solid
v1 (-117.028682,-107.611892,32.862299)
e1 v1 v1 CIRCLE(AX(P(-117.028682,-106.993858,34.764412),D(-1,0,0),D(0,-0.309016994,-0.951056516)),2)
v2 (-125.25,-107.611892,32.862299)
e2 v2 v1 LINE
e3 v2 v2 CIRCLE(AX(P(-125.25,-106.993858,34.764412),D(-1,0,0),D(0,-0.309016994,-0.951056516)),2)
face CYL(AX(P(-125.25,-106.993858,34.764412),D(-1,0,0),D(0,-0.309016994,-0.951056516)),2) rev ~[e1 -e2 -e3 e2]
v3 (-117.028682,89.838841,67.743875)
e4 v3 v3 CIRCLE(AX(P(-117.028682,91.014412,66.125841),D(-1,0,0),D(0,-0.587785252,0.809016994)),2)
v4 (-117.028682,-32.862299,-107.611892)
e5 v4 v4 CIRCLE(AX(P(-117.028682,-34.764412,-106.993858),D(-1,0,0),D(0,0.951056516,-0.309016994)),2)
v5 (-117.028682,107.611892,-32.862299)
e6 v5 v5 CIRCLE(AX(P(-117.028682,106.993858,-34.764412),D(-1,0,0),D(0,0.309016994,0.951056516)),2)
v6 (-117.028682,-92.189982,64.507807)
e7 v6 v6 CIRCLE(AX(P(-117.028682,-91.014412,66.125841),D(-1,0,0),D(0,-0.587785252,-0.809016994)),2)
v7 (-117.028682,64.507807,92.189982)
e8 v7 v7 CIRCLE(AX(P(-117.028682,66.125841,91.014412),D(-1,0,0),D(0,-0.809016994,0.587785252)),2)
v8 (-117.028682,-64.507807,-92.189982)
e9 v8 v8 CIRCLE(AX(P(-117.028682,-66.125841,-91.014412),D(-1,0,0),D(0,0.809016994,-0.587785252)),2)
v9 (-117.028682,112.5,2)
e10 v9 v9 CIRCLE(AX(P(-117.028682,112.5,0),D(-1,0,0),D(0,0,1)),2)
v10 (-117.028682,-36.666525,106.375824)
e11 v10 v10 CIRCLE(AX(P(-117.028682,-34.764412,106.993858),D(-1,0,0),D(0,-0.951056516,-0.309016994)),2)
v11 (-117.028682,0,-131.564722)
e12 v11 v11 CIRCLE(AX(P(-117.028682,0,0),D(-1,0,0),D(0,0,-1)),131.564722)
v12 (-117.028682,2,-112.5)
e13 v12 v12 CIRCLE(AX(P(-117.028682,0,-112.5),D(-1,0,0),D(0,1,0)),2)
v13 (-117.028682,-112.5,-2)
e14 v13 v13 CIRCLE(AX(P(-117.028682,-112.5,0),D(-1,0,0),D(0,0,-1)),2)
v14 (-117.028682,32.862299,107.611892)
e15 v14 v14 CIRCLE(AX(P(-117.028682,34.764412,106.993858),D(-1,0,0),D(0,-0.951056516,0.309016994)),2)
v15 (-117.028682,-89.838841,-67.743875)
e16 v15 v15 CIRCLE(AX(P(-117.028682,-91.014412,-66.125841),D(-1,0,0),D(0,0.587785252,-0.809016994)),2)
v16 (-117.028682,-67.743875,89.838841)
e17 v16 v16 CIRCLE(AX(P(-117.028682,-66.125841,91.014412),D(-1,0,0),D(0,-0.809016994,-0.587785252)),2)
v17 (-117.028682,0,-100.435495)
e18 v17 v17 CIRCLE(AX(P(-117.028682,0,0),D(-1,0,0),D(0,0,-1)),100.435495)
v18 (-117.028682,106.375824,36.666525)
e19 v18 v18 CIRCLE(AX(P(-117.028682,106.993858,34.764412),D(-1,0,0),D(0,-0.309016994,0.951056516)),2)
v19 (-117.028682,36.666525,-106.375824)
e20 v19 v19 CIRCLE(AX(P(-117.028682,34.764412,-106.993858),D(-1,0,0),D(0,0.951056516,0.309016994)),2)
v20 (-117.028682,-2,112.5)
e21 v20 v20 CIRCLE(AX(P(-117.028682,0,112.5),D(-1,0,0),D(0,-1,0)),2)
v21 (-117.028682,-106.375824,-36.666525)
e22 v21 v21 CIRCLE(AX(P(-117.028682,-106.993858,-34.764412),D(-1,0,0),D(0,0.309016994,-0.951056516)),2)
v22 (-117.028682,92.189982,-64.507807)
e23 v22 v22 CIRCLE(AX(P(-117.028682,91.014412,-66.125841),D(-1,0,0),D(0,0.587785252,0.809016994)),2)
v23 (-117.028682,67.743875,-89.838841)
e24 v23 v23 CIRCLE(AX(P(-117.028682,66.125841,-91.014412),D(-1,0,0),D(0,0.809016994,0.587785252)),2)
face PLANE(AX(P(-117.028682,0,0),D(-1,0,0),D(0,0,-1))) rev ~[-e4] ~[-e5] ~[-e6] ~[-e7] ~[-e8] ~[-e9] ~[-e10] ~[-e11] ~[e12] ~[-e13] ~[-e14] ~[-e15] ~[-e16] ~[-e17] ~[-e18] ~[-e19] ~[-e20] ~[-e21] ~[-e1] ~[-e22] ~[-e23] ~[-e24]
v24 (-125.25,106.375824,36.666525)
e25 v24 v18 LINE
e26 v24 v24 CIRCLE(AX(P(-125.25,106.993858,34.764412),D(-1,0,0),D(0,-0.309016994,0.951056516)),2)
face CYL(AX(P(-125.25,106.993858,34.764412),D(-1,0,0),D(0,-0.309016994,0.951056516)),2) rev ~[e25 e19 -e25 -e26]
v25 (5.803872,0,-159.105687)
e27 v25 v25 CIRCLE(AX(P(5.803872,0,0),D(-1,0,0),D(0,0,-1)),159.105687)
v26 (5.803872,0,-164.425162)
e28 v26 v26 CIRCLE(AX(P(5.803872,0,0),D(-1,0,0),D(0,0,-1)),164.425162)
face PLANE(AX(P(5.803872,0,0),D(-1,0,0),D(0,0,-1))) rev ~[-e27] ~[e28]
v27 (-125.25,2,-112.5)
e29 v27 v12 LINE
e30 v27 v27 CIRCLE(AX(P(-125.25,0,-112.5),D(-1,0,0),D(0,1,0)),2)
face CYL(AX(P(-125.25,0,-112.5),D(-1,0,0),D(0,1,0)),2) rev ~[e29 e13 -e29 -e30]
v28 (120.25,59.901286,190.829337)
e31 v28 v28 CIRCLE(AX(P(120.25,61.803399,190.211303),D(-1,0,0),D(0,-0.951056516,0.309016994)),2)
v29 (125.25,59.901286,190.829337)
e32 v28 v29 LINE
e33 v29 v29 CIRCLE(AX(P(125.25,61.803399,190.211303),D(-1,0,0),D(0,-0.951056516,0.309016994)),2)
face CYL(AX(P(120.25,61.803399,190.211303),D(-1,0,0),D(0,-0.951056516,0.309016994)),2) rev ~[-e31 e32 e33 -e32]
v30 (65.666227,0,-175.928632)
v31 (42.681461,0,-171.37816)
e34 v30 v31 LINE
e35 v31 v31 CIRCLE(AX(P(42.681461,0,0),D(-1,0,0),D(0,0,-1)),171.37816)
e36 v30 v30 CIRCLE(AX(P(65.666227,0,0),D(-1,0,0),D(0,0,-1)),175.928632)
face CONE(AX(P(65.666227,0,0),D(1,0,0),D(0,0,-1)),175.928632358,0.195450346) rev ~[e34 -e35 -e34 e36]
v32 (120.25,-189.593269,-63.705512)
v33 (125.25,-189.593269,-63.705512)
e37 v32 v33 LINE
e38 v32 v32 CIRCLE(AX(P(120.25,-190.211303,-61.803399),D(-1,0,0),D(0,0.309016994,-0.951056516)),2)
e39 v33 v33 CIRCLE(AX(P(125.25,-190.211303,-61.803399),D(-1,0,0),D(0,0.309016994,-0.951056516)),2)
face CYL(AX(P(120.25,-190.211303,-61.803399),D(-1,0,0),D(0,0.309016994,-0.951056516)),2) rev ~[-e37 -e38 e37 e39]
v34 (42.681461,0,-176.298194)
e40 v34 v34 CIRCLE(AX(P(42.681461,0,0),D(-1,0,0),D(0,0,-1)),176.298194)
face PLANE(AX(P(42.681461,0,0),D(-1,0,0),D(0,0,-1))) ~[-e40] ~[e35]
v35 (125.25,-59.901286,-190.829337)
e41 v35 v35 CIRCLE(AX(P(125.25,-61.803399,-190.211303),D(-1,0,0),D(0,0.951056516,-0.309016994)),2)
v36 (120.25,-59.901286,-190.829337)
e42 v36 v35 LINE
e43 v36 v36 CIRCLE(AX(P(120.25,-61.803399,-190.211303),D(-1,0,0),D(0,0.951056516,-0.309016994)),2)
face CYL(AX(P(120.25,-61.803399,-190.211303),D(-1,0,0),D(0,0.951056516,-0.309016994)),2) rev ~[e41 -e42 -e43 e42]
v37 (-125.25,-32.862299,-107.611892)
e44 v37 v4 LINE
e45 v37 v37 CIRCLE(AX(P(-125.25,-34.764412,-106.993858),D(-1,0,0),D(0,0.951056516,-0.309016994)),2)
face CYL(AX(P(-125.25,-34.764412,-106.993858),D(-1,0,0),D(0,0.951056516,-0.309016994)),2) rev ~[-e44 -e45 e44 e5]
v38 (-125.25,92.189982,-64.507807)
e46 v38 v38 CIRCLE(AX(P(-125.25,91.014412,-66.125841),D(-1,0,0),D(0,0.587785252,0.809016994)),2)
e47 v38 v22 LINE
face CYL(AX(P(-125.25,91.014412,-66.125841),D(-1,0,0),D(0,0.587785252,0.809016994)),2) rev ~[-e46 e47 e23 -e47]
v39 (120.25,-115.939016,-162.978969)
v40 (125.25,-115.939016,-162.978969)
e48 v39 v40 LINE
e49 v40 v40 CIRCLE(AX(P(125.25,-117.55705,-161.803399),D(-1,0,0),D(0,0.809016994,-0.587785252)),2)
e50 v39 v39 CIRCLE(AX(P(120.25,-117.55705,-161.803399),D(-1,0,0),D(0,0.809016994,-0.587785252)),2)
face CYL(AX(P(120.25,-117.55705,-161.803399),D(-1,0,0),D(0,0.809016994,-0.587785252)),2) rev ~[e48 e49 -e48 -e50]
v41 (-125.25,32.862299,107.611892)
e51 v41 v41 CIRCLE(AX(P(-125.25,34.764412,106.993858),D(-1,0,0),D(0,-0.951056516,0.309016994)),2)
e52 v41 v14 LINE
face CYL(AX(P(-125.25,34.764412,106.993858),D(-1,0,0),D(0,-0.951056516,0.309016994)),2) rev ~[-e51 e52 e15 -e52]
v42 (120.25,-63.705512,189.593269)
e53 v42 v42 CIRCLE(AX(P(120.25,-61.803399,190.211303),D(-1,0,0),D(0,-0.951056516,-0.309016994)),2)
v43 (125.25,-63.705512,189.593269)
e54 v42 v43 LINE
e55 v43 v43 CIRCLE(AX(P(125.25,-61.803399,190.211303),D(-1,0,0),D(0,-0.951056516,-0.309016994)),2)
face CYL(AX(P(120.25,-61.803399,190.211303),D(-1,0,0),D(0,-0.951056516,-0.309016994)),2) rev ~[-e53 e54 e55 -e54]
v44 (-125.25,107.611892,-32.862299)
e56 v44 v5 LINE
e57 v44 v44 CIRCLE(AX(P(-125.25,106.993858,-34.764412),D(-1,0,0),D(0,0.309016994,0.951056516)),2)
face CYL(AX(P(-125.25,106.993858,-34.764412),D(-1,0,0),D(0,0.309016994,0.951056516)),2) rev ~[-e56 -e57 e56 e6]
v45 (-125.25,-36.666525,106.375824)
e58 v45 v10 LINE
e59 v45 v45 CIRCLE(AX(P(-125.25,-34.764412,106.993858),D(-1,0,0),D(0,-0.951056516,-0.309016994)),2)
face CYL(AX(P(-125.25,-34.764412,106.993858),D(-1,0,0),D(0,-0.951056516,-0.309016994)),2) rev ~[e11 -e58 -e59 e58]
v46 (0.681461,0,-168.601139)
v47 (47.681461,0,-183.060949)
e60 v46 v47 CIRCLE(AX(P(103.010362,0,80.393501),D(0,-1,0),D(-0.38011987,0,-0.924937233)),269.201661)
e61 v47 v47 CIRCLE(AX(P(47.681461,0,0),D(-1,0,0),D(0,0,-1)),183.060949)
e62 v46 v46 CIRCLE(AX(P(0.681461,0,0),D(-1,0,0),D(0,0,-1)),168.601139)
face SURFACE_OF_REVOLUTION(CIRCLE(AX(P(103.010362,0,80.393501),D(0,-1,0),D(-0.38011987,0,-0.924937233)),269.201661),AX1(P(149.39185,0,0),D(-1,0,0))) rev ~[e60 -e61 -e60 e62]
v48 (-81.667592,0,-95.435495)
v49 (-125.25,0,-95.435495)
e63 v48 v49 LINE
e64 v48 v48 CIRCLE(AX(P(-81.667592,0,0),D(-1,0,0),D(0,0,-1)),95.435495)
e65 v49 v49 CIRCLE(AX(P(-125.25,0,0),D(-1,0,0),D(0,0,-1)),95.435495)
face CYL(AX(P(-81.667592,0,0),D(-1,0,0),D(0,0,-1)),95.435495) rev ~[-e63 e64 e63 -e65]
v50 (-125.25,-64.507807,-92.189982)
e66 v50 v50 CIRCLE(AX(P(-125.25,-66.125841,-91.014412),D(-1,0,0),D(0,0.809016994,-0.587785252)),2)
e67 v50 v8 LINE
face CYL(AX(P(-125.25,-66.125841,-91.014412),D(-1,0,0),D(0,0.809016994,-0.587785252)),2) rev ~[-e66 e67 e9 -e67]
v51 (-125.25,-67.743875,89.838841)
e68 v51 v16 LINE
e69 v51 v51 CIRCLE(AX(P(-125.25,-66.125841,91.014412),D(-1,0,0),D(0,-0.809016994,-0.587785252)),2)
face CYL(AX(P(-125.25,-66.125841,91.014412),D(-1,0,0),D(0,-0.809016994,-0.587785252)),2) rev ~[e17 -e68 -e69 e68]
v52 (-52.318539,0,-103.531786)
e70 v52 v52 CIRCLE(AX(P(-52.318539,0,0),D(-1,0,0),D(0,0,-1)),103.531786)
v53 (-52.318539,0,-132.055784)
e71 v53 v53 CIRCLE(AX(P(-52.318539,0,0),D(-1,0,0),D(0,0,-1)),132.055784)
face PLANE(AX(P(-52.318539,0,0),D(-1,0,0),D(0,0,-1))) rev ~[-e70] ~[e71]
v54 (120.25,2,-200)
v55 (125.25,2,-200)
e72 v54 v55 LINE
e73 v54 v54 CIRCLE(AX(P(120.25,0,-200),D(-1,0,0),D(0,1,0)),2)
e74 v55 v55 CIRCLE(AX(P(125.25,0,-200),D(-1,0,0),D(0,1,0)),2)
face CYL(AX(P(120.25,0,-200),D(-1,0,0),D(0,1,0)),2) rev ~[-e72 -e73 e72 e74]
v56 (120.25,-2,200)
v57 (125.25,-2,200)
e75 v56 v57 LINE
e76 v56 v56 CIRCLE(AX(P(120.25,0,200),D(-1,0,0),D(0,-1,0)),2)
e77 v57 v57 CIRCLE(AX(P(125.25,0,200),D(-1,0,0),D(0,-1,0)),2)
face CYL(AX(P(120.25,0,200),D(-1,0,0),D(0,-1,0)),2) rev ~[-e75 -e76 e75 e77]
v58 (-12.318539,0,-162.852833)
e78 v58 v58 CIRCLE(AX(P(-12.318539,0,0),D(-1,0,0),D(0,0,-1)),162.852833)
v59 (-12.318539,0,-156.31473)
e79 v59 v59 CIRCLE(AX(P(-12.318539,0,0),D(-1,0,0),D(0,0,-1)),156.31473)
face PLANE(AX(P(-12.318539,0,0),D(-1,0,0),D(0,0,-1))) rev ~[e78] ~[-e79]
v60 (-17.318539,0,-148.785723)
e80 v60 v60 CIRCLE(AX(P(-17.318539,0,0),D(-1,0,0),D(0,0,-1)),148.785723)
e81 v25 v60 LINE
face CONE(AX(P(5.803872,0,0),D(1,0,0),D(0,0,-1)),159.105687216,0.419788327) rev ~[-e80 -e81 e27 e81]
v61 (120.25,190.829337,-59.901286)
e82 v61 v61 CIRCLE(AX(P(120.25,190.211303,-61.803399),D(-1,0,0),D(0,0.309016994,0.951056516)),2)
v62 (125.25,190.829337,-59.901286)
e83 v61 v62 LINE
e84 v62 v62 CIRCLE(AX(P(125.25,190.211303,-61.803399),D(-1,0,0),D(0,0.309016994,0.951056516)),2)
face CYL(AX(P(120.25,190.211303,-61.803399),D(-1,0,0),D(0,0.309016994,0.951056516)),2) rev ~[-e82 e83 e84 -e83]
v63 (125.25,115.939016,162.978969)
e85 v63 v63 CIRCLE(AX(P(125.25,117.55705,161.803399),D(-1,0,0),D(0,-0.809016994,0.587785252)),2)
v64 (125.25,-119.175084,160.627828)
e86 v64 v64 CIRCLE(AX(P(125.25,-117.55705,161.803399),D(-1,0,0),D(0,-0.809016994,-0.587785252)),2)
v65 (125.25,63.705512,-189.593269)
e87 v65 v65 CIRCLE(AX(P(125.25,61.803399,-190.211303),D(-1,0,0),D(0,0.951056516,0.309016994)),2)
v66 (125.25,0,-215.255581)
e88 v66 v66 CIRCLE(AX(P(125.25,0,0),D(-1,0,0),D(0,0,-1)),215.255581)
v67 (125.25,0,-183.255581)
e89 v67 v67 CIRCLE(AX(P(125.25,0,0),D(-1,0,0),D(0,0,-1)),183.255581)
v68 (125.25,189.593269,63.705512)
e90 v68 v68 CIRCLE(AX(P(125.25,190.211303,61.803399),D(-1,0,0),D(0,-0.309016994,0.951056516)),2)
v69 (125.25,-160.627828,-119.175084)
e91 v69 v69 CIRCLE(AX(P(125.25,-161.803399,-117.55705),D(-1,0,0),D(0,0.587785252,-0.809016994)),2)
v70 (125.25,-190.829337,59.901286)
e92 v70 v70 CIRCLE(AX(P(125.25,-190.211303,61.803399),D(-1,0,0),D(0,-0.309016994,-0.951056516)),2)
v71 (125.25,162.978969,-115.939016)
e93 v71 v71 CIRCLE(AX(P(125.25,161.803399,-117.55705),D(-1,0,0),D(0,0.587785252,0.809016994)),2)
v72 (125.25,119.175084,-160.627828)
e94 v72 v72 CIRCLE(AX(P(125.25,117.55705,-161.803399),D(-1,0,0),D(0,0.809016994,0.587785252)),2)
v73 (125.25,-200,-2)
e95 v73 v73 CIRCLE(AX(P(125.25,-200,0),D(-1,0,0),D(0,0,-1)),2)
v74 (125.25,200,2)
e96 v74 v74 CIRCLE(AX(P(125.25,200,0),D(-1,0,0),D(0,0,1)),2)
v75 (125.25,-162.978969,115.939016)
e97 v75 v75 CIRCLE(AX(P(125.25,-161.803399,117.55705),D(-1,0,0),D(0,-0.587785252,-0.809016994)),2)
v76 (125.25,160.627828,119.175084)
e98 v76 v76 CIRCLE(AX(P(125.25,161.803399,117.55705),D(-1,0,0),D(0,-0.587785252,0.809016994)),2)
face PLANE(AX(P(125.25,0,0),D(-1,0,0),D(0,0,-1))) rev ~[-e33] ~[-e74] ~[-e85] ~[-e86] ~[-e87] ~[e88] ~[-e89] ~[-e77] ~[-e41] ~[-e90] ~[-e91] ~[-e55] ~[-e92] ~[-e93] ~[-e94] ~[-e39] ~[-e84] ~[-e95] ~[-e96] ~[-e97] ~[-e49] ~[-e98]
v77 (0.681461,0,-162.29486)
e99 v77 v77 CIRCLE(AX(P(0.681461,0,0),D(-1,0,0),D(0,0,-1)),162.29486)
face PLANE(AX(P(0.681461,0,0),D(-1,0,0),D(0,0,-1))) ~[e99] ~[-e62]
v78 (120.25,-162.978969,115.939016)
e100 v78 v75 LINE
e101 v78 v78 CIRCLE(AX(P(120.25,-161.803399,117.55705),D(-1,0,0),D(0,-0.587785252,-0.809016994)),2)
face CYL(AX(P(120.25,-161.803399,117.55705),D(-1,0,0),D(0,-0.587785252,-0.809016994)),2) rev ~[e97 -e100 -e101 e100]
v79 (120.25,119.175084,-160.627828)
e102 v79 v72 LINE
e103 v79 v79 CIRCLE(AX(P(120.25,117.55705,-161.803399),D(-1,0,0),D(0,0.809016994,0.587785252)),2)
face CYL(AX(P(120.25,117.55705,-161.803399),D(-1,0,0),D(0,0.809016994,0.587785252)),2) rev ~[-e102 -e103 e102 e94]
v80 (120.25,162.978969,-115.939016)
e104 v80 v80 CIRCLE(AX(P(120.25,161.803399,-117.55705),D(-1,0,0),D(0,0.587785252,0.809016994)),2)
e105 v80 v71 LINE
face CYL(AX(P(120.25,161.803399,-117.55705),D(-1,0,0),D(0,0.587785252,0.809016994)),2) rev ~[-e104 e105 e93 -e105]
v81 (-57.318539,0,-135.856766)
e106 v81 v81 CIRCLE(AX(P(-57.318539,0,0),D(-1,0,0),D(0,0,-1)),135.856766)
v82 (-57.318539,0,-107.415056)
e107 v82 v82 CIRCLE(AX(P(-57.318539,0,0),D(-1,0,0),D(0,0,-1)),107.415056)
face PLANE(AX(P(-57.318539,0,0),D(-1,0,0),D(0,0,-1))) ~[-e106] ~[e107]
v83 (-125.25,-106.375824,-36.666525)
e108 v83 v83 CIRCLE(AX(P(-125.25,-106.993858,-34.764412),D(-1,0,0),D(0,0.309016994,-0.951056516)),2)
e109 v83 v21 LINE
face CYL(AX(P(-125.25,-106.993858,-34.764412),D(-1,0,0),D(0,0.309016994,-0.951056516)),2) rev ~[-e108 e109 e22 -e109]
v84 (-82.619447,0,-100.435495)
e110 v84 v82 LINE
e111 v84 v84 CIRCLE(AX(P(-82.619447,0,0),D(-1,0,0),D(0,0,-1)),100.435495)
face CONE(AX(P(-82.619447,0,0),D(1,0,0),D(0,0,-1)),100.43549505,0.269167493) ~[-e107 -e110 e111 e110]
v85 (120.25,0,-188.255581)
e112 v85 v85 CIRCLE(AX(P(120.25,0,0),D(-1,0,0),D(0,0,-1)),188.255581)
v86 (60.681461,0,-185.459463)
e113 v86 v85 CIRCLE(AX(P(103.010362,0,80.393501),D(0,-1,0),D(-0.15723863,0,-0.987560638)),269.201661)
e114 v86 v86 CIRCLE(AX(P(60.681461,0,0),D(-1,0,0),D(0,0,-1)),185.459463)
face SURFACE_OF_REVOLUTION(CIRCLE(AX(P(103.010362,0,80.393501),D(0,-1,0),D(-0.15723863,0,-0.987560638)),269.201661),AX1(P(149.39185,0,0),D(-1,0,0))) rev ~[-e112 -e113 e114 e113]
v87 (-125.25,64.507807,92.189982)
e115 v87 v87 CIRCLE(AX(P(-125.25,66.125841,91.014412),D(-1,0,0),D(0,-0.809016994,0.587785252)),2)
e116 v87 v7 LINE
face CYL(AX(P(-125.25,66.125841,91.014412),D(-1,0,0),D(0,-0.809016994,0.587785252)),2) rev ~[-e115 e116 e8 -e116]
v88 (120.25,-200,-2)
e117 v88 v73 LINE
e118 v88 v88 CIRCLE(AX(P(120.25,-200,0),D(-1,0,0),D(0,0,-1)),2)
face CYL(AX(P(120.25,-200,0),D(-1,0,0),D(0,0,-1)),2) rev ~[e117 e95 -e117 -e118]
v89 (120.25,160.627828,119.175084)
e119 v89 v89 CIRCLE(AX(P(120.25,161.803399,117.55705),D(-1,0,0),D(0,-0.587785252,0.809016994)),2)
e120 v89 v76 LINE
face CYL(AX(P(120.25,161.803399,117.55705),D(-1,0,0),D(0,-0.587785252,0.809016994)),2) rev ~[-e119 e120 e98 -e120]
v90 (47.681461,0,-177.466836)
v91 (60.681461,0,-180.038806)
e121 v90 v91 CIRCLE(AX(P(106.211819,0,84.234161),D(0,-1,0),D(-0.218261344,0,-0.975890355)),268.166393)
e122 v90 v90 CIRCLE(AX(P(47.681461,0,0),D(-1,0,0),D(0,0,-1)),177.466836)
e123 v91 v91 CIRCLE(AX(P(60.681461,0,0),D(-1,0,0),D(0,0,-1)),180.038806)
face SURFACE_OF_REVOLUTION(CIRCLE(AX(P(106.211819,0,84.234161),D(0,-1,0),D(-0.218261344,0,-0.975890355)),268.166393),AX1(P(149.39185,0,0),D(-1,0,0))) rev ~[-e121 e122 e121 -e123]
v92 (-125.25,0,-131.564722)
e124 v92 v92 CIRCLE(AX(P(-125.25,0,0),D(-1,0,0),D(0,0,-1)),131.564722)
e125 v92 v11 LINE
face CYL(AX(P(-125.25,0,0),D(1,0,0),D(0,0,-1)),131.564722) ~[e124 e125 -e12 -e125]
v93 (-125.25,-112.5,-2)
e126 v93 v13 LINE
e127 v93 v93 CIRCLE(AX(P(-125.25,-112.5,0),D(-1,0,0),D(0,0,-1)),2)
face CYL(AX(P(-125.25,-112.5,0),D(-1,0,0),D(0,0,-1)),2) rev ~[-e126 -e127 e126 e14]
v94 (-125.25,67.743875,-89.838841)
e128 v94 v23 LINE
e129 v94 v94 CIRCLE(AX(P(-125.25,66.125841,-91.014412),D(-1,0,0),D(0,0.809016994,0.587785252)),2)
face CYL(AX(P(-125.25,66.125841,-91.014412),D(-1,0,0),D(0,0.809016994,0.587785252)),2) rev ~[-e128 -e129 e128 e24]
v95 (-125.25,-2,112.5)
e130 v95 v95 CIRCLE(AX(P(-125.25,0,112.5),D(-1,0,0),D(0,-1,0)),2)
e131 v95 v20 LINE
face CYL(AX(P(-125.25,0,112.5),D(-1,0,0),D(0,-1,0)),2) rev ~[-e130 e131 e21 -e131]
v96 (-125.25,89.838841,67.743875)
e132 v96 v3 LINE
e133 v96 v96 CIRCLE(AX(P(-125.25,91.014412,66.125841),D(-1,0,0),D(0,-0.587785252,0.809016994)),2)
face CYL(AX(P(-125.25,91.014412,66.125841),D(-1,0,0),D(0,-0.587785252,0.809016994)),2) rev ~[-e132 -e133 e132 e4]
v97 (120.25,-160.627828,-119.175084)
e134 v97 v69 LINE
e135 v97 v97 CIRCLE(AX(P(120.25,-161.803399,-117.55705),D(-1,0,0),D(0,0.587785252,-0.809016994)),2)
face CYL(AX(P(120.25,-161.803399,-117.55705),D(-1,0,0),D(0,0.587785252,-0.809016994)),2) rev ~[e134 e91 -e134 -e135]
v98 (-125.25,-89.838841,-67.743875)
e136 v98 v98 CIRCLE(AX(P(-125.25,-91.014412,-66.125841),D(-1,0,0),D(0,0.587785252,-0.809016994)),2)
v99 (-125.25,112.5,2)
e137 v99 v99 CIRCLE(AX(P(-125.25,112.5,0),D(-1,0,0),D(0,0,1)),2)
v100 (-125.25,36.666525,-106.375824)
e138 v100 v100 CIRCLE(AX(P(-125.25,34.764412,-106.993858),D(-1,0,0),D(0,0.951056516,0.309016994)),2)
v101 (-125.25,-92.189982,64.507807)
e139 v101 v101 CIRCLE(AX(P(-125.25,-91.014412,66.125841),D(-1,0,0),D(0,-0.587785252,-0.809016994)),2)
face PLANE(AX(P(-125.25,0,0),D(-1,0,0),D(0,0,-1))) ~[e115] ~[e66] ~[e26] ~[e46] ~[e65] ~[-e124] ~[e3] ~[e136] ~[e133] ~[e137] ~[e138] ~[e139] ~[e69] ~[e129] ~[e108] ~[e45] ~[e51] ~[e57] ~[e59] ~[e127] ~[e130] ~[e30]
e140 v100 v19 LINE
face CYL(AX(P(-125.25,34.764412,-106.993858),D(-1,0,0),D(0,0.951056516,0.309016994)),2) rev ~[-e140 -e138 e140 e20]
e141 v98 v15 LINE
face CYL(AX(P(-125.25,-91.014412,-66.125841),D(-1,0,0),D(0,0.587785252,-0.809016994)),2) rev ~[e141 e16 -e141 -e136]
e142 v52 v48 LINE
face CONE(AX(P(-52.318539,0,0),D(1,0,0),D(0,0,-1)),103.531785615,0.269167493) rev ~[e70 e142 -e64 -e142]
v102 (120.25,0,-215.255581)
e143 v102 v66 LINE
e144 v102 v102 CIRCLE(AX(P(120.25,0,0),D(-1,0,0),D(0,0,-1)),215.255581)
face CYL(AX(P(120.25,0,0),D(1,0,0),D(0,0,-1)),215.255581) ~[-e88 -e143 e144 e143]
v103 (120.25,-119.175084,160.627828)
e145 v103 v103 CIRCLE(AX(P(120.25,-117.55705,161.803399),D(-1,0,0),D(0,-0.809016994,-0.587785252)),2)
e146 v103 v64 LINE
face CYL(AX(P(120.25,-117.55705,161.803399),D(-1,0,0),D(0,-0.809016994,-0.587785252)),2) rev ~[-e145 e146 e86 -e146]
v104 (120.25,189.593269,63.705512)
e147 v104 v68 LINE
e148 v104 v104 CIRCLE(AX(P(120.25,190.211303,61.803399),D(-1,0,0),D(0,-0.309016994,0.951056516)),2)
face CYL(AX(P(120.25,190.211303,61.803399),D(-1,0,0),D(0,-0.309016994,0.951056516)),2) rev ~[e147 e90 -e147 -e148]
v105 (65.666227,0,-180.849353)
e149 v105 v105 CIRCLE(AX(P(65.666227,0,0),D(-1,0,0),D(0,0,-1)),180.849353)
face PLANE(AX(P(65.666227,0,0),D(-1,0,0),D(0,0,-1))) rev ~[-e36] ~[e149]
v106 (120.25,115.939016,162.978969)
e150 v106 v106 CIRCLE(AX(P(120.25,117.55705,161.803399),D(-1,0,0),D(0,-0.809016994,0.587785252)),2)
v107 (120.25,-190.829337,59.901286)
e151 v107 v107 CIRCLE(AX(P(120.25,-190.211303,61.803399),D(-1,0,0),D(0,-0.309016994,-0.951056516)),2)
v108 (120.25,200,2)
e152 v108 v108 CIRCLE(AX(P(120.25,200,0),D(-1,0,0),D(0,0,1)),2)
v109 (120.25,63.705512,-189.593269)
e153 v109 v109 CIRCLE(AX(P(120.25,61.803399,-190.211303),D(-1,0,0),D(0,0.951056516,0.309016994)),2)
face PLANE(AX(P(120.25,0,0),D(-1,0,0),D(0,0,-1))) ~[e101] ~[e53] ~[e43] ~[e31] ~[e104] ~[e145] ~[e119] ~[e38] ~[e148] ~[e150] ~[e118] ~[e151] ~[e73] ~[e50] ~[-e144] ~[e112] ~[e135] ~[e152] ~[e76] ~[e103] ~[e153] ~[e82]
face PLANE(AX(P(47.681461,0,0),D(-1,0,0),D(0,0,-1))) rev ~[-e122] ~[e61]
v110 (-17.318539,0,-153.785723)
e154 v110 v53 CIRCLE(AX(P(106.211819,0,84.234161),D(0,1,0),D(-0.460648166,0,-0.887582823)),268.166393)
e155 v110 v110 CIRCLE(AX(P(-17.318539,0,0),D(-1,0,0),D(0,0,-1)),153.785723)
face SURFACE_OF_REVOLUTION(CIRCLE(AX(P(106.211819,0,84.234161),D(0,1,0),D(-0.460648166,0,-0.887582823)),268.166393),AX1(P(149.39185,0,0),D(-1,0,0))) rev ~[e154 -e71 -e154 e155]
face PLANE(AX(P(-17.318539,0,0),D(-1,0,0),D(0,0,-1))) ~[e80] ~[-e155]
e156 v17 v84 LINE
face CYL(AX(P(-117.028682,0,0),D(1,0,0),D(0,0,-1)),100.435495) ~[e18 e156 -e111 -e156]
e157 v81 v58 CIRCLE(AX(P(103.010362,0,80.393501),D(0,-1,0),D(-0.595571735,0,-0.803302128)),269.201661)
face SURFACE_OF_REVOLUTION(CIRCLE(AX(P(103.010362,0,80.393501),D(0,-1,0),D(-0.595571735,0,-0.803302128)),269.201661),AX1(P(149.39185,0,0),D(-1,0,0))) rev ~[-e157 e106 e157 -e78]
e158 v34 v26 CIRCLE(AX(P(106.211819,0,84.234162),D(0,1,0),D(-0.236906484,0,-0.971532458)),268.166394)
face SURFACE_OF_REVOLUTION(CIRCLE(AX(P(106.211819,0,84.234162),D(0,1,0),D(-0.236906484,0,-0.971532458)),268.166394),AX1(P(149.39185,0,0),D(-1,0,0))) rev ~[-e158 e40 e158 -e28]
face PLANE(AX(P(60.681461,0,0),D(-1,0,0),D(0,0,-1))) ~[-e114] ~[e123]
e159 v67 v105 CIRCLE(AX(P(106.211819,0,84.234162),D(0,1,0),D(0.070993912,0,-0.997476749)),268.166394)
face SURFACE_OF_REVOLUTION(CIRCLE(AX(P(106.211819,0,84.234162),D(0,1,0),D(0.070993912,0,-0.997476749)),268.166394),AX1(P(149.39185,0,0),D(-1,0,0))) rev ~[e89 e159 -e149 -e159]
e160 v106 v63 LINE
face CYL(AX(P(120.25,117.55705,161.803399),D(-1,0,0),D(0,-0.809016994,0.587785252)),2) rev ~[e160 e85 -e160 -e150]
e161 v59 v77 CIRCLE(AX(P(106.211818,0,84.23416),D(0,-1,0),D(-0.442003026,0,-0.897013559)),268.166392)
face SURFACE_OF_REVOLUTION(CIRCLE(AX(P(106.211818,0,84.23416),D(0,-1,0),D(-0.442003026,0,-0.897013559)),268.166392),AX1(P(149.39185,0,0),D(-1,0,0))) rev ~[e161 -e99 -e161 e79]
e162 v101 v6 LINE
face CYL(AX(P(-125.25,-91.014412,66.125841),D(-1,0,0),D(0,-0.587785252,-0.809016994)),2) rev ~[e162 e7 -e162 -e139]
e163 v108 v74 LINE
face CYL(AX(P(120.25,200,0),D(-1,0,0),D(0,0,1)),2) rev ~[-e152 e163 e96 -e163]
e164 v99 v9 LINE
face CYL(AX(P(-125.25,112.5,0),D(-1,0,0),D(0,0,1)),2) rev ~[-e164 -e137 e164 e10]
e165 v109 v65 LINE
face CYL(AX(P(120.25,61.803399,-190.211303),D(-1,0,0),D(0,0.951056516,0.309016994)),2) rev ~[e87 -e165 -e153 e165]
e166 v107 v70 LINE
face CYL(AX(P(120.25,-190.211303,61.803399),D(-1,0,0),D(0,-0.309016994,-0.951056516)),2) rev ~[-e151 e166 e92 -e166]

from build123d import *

# Parameters (mm, degrees)
SKETCH2_R          = 2
CUT_EXTRUDE1_DEPTH = 10
SKETCH4_R          = 2
CUT_EXTRUDE2_DEPTH = 10
CIRPATTERN1_COUNT  = 20


with BuildPart() as part:
    # Sketch1 → Revolve1 (revolve)
    with BuildSketch(Plane.XY, mode=Mode.PRIVATE) as revolve1_sk:
        with BuildLine():
            Line((-125.25, 131.564721686), (-117.02868173, 131.564721686))
            Line((-117.02868173, 131.564721686), (-117.02868173, 100.43549505))
            Line((-117.02868173, 100.43549505), (-82.619446827, 100.43549505))
            Line((-82.619446827, 100.43549505), (-57.31853881, 107.415055882))
            Line((-57.31853881, 107.415055882), (-57.31853881, 135.856766273))
            ThreePointArc((-57.31853881, 135.856766273), (-35.477914786, 150.453919829), (-12.31853881, 162.852833254))
            Line((-12.31853881, 162.852833254), (-12.31853881, 156.314729683))
            ThreePointArc((-12.31853881, 156.314729683), (-5.858433789, 159.39152107), (0.68146119, 162.294859801))
            Line((0.68146119, 162.294859801), (0.68146119, 168.601138577))
            ThreePointArc((0.68146119, 168.601138577), (23.850604977, 176.906454941), (47.68146119, 183.060948904))
            Line((47.68146119, 183.060948904), (47.68146119, 177.466835722))
            ThreePointArc((47.68146119, 177.466835722), (54.165571379, 178.833135663), (60.68146119, 180.038805792))
            Line((60.68146119, 180.038805792), (60.68146119, 185.45946322))
            ThreePointArc((60.68146119, 185.45946322), (90.388066416, 188.512081052), (120.25, 188.255581006))
            Line((120.25, 188.255581006), (120.25, 215.255581006))
            Line((120.25, 215.255581006), (125.25, 215.255581006))
            Line((125.25, 215.255581006), (125.25, 183.255581006))
            ThreePointArc((125.25, 183.255581006), (95.391021127, 183.71382792), (65.666226876, 180.849353038))
            Line((65.666226876, 180.849353038), (65.666226876, 175.928632358))
            Line((65.666226876, 175.928632358), (42.68146119, 171.378159884))
            Line((42.68146119, 171.378159884), (42.68146119, 176.29819421))
            ThreePointArc((42.68146119, 176.29819421), (24.027975408, 171.028508313), (5.803872294, 164.425161668))
            Line((5.803872294, 164.425161668), (5.803872294, 159.105687216))
            Line((5.803872294, 159.105687216), (-17.31853881, 148.78572312))
            Line((-17.31853881, 148.78572312), (-17.31853881, 153.78572312))
            ThreePointArc((-17.31853881, 153.78572312), (-35.236437934, 143.593855649), (-52.31853881, 132.055783832))
            Line((-52.31853881, 132.055783832), (-52.31853881, 103.531785615))
            Line((-52.31853881, 103.531785615), (-81.66759211, 95.43549505))
            Line((-81.66759211, 95.43549505), (-125.25, 95.43549505))
            Line((-125.25, 95.43549505), (-125.25, 131.564721686))
        make_face()
    revolve(revolve1_sk.sketch.rotate(Axis((149.391850052, 0, 0), (-1, 0, 0)), 90), axis=Axis((149.391850052, 0, 0), (-1, 0, 0)))

    # Sketch2 → Cut-Extrude1 (cut)
    with BuildSketch(Plane.ZY.offset(125.25)):
        with Locations((0, 112.5)):
            Circle(SKETCH2_R)
    cut_extrude1 = extrude(amount=-CUT_EXTRUDE1_DEPTH, mode=Mode.SUBTRACT)

    # Sketch4 → Cut-Extrude2 (cut)
    with BuildSketch(Plane.ZY.offset(-120.25)):
        with Locations((0, 200)):
            Circle(SKETCH4_R)
    cut_extrude2 = extrude(amount=-CUT_EXTRUDE2_DEPTH, mode=Mode.SUBTRACT)

    # CirPattern1: Cut-Extrude1, Cut-Extrude2 ×20 about axis
    cirpattern1_axis = Axis((0, 0, 0), (1, 0, 0))
    add([cut_extrude1.rotate(cirpattern1_axis, i * 360 / CIRPATTERN1_COUNT) for i in range(1, CIRPATTERN1_COUNT)], mode=Mode.SUBTRACT)
    add([cut_extrude2.rotate(cirpattern1_axis, i * 360 / CIRPATTERN1_COUNT) for i in range(1, CIRPATTERN1_COUNT)], mode=Mode.SUBTRACT)


solid = part.part
